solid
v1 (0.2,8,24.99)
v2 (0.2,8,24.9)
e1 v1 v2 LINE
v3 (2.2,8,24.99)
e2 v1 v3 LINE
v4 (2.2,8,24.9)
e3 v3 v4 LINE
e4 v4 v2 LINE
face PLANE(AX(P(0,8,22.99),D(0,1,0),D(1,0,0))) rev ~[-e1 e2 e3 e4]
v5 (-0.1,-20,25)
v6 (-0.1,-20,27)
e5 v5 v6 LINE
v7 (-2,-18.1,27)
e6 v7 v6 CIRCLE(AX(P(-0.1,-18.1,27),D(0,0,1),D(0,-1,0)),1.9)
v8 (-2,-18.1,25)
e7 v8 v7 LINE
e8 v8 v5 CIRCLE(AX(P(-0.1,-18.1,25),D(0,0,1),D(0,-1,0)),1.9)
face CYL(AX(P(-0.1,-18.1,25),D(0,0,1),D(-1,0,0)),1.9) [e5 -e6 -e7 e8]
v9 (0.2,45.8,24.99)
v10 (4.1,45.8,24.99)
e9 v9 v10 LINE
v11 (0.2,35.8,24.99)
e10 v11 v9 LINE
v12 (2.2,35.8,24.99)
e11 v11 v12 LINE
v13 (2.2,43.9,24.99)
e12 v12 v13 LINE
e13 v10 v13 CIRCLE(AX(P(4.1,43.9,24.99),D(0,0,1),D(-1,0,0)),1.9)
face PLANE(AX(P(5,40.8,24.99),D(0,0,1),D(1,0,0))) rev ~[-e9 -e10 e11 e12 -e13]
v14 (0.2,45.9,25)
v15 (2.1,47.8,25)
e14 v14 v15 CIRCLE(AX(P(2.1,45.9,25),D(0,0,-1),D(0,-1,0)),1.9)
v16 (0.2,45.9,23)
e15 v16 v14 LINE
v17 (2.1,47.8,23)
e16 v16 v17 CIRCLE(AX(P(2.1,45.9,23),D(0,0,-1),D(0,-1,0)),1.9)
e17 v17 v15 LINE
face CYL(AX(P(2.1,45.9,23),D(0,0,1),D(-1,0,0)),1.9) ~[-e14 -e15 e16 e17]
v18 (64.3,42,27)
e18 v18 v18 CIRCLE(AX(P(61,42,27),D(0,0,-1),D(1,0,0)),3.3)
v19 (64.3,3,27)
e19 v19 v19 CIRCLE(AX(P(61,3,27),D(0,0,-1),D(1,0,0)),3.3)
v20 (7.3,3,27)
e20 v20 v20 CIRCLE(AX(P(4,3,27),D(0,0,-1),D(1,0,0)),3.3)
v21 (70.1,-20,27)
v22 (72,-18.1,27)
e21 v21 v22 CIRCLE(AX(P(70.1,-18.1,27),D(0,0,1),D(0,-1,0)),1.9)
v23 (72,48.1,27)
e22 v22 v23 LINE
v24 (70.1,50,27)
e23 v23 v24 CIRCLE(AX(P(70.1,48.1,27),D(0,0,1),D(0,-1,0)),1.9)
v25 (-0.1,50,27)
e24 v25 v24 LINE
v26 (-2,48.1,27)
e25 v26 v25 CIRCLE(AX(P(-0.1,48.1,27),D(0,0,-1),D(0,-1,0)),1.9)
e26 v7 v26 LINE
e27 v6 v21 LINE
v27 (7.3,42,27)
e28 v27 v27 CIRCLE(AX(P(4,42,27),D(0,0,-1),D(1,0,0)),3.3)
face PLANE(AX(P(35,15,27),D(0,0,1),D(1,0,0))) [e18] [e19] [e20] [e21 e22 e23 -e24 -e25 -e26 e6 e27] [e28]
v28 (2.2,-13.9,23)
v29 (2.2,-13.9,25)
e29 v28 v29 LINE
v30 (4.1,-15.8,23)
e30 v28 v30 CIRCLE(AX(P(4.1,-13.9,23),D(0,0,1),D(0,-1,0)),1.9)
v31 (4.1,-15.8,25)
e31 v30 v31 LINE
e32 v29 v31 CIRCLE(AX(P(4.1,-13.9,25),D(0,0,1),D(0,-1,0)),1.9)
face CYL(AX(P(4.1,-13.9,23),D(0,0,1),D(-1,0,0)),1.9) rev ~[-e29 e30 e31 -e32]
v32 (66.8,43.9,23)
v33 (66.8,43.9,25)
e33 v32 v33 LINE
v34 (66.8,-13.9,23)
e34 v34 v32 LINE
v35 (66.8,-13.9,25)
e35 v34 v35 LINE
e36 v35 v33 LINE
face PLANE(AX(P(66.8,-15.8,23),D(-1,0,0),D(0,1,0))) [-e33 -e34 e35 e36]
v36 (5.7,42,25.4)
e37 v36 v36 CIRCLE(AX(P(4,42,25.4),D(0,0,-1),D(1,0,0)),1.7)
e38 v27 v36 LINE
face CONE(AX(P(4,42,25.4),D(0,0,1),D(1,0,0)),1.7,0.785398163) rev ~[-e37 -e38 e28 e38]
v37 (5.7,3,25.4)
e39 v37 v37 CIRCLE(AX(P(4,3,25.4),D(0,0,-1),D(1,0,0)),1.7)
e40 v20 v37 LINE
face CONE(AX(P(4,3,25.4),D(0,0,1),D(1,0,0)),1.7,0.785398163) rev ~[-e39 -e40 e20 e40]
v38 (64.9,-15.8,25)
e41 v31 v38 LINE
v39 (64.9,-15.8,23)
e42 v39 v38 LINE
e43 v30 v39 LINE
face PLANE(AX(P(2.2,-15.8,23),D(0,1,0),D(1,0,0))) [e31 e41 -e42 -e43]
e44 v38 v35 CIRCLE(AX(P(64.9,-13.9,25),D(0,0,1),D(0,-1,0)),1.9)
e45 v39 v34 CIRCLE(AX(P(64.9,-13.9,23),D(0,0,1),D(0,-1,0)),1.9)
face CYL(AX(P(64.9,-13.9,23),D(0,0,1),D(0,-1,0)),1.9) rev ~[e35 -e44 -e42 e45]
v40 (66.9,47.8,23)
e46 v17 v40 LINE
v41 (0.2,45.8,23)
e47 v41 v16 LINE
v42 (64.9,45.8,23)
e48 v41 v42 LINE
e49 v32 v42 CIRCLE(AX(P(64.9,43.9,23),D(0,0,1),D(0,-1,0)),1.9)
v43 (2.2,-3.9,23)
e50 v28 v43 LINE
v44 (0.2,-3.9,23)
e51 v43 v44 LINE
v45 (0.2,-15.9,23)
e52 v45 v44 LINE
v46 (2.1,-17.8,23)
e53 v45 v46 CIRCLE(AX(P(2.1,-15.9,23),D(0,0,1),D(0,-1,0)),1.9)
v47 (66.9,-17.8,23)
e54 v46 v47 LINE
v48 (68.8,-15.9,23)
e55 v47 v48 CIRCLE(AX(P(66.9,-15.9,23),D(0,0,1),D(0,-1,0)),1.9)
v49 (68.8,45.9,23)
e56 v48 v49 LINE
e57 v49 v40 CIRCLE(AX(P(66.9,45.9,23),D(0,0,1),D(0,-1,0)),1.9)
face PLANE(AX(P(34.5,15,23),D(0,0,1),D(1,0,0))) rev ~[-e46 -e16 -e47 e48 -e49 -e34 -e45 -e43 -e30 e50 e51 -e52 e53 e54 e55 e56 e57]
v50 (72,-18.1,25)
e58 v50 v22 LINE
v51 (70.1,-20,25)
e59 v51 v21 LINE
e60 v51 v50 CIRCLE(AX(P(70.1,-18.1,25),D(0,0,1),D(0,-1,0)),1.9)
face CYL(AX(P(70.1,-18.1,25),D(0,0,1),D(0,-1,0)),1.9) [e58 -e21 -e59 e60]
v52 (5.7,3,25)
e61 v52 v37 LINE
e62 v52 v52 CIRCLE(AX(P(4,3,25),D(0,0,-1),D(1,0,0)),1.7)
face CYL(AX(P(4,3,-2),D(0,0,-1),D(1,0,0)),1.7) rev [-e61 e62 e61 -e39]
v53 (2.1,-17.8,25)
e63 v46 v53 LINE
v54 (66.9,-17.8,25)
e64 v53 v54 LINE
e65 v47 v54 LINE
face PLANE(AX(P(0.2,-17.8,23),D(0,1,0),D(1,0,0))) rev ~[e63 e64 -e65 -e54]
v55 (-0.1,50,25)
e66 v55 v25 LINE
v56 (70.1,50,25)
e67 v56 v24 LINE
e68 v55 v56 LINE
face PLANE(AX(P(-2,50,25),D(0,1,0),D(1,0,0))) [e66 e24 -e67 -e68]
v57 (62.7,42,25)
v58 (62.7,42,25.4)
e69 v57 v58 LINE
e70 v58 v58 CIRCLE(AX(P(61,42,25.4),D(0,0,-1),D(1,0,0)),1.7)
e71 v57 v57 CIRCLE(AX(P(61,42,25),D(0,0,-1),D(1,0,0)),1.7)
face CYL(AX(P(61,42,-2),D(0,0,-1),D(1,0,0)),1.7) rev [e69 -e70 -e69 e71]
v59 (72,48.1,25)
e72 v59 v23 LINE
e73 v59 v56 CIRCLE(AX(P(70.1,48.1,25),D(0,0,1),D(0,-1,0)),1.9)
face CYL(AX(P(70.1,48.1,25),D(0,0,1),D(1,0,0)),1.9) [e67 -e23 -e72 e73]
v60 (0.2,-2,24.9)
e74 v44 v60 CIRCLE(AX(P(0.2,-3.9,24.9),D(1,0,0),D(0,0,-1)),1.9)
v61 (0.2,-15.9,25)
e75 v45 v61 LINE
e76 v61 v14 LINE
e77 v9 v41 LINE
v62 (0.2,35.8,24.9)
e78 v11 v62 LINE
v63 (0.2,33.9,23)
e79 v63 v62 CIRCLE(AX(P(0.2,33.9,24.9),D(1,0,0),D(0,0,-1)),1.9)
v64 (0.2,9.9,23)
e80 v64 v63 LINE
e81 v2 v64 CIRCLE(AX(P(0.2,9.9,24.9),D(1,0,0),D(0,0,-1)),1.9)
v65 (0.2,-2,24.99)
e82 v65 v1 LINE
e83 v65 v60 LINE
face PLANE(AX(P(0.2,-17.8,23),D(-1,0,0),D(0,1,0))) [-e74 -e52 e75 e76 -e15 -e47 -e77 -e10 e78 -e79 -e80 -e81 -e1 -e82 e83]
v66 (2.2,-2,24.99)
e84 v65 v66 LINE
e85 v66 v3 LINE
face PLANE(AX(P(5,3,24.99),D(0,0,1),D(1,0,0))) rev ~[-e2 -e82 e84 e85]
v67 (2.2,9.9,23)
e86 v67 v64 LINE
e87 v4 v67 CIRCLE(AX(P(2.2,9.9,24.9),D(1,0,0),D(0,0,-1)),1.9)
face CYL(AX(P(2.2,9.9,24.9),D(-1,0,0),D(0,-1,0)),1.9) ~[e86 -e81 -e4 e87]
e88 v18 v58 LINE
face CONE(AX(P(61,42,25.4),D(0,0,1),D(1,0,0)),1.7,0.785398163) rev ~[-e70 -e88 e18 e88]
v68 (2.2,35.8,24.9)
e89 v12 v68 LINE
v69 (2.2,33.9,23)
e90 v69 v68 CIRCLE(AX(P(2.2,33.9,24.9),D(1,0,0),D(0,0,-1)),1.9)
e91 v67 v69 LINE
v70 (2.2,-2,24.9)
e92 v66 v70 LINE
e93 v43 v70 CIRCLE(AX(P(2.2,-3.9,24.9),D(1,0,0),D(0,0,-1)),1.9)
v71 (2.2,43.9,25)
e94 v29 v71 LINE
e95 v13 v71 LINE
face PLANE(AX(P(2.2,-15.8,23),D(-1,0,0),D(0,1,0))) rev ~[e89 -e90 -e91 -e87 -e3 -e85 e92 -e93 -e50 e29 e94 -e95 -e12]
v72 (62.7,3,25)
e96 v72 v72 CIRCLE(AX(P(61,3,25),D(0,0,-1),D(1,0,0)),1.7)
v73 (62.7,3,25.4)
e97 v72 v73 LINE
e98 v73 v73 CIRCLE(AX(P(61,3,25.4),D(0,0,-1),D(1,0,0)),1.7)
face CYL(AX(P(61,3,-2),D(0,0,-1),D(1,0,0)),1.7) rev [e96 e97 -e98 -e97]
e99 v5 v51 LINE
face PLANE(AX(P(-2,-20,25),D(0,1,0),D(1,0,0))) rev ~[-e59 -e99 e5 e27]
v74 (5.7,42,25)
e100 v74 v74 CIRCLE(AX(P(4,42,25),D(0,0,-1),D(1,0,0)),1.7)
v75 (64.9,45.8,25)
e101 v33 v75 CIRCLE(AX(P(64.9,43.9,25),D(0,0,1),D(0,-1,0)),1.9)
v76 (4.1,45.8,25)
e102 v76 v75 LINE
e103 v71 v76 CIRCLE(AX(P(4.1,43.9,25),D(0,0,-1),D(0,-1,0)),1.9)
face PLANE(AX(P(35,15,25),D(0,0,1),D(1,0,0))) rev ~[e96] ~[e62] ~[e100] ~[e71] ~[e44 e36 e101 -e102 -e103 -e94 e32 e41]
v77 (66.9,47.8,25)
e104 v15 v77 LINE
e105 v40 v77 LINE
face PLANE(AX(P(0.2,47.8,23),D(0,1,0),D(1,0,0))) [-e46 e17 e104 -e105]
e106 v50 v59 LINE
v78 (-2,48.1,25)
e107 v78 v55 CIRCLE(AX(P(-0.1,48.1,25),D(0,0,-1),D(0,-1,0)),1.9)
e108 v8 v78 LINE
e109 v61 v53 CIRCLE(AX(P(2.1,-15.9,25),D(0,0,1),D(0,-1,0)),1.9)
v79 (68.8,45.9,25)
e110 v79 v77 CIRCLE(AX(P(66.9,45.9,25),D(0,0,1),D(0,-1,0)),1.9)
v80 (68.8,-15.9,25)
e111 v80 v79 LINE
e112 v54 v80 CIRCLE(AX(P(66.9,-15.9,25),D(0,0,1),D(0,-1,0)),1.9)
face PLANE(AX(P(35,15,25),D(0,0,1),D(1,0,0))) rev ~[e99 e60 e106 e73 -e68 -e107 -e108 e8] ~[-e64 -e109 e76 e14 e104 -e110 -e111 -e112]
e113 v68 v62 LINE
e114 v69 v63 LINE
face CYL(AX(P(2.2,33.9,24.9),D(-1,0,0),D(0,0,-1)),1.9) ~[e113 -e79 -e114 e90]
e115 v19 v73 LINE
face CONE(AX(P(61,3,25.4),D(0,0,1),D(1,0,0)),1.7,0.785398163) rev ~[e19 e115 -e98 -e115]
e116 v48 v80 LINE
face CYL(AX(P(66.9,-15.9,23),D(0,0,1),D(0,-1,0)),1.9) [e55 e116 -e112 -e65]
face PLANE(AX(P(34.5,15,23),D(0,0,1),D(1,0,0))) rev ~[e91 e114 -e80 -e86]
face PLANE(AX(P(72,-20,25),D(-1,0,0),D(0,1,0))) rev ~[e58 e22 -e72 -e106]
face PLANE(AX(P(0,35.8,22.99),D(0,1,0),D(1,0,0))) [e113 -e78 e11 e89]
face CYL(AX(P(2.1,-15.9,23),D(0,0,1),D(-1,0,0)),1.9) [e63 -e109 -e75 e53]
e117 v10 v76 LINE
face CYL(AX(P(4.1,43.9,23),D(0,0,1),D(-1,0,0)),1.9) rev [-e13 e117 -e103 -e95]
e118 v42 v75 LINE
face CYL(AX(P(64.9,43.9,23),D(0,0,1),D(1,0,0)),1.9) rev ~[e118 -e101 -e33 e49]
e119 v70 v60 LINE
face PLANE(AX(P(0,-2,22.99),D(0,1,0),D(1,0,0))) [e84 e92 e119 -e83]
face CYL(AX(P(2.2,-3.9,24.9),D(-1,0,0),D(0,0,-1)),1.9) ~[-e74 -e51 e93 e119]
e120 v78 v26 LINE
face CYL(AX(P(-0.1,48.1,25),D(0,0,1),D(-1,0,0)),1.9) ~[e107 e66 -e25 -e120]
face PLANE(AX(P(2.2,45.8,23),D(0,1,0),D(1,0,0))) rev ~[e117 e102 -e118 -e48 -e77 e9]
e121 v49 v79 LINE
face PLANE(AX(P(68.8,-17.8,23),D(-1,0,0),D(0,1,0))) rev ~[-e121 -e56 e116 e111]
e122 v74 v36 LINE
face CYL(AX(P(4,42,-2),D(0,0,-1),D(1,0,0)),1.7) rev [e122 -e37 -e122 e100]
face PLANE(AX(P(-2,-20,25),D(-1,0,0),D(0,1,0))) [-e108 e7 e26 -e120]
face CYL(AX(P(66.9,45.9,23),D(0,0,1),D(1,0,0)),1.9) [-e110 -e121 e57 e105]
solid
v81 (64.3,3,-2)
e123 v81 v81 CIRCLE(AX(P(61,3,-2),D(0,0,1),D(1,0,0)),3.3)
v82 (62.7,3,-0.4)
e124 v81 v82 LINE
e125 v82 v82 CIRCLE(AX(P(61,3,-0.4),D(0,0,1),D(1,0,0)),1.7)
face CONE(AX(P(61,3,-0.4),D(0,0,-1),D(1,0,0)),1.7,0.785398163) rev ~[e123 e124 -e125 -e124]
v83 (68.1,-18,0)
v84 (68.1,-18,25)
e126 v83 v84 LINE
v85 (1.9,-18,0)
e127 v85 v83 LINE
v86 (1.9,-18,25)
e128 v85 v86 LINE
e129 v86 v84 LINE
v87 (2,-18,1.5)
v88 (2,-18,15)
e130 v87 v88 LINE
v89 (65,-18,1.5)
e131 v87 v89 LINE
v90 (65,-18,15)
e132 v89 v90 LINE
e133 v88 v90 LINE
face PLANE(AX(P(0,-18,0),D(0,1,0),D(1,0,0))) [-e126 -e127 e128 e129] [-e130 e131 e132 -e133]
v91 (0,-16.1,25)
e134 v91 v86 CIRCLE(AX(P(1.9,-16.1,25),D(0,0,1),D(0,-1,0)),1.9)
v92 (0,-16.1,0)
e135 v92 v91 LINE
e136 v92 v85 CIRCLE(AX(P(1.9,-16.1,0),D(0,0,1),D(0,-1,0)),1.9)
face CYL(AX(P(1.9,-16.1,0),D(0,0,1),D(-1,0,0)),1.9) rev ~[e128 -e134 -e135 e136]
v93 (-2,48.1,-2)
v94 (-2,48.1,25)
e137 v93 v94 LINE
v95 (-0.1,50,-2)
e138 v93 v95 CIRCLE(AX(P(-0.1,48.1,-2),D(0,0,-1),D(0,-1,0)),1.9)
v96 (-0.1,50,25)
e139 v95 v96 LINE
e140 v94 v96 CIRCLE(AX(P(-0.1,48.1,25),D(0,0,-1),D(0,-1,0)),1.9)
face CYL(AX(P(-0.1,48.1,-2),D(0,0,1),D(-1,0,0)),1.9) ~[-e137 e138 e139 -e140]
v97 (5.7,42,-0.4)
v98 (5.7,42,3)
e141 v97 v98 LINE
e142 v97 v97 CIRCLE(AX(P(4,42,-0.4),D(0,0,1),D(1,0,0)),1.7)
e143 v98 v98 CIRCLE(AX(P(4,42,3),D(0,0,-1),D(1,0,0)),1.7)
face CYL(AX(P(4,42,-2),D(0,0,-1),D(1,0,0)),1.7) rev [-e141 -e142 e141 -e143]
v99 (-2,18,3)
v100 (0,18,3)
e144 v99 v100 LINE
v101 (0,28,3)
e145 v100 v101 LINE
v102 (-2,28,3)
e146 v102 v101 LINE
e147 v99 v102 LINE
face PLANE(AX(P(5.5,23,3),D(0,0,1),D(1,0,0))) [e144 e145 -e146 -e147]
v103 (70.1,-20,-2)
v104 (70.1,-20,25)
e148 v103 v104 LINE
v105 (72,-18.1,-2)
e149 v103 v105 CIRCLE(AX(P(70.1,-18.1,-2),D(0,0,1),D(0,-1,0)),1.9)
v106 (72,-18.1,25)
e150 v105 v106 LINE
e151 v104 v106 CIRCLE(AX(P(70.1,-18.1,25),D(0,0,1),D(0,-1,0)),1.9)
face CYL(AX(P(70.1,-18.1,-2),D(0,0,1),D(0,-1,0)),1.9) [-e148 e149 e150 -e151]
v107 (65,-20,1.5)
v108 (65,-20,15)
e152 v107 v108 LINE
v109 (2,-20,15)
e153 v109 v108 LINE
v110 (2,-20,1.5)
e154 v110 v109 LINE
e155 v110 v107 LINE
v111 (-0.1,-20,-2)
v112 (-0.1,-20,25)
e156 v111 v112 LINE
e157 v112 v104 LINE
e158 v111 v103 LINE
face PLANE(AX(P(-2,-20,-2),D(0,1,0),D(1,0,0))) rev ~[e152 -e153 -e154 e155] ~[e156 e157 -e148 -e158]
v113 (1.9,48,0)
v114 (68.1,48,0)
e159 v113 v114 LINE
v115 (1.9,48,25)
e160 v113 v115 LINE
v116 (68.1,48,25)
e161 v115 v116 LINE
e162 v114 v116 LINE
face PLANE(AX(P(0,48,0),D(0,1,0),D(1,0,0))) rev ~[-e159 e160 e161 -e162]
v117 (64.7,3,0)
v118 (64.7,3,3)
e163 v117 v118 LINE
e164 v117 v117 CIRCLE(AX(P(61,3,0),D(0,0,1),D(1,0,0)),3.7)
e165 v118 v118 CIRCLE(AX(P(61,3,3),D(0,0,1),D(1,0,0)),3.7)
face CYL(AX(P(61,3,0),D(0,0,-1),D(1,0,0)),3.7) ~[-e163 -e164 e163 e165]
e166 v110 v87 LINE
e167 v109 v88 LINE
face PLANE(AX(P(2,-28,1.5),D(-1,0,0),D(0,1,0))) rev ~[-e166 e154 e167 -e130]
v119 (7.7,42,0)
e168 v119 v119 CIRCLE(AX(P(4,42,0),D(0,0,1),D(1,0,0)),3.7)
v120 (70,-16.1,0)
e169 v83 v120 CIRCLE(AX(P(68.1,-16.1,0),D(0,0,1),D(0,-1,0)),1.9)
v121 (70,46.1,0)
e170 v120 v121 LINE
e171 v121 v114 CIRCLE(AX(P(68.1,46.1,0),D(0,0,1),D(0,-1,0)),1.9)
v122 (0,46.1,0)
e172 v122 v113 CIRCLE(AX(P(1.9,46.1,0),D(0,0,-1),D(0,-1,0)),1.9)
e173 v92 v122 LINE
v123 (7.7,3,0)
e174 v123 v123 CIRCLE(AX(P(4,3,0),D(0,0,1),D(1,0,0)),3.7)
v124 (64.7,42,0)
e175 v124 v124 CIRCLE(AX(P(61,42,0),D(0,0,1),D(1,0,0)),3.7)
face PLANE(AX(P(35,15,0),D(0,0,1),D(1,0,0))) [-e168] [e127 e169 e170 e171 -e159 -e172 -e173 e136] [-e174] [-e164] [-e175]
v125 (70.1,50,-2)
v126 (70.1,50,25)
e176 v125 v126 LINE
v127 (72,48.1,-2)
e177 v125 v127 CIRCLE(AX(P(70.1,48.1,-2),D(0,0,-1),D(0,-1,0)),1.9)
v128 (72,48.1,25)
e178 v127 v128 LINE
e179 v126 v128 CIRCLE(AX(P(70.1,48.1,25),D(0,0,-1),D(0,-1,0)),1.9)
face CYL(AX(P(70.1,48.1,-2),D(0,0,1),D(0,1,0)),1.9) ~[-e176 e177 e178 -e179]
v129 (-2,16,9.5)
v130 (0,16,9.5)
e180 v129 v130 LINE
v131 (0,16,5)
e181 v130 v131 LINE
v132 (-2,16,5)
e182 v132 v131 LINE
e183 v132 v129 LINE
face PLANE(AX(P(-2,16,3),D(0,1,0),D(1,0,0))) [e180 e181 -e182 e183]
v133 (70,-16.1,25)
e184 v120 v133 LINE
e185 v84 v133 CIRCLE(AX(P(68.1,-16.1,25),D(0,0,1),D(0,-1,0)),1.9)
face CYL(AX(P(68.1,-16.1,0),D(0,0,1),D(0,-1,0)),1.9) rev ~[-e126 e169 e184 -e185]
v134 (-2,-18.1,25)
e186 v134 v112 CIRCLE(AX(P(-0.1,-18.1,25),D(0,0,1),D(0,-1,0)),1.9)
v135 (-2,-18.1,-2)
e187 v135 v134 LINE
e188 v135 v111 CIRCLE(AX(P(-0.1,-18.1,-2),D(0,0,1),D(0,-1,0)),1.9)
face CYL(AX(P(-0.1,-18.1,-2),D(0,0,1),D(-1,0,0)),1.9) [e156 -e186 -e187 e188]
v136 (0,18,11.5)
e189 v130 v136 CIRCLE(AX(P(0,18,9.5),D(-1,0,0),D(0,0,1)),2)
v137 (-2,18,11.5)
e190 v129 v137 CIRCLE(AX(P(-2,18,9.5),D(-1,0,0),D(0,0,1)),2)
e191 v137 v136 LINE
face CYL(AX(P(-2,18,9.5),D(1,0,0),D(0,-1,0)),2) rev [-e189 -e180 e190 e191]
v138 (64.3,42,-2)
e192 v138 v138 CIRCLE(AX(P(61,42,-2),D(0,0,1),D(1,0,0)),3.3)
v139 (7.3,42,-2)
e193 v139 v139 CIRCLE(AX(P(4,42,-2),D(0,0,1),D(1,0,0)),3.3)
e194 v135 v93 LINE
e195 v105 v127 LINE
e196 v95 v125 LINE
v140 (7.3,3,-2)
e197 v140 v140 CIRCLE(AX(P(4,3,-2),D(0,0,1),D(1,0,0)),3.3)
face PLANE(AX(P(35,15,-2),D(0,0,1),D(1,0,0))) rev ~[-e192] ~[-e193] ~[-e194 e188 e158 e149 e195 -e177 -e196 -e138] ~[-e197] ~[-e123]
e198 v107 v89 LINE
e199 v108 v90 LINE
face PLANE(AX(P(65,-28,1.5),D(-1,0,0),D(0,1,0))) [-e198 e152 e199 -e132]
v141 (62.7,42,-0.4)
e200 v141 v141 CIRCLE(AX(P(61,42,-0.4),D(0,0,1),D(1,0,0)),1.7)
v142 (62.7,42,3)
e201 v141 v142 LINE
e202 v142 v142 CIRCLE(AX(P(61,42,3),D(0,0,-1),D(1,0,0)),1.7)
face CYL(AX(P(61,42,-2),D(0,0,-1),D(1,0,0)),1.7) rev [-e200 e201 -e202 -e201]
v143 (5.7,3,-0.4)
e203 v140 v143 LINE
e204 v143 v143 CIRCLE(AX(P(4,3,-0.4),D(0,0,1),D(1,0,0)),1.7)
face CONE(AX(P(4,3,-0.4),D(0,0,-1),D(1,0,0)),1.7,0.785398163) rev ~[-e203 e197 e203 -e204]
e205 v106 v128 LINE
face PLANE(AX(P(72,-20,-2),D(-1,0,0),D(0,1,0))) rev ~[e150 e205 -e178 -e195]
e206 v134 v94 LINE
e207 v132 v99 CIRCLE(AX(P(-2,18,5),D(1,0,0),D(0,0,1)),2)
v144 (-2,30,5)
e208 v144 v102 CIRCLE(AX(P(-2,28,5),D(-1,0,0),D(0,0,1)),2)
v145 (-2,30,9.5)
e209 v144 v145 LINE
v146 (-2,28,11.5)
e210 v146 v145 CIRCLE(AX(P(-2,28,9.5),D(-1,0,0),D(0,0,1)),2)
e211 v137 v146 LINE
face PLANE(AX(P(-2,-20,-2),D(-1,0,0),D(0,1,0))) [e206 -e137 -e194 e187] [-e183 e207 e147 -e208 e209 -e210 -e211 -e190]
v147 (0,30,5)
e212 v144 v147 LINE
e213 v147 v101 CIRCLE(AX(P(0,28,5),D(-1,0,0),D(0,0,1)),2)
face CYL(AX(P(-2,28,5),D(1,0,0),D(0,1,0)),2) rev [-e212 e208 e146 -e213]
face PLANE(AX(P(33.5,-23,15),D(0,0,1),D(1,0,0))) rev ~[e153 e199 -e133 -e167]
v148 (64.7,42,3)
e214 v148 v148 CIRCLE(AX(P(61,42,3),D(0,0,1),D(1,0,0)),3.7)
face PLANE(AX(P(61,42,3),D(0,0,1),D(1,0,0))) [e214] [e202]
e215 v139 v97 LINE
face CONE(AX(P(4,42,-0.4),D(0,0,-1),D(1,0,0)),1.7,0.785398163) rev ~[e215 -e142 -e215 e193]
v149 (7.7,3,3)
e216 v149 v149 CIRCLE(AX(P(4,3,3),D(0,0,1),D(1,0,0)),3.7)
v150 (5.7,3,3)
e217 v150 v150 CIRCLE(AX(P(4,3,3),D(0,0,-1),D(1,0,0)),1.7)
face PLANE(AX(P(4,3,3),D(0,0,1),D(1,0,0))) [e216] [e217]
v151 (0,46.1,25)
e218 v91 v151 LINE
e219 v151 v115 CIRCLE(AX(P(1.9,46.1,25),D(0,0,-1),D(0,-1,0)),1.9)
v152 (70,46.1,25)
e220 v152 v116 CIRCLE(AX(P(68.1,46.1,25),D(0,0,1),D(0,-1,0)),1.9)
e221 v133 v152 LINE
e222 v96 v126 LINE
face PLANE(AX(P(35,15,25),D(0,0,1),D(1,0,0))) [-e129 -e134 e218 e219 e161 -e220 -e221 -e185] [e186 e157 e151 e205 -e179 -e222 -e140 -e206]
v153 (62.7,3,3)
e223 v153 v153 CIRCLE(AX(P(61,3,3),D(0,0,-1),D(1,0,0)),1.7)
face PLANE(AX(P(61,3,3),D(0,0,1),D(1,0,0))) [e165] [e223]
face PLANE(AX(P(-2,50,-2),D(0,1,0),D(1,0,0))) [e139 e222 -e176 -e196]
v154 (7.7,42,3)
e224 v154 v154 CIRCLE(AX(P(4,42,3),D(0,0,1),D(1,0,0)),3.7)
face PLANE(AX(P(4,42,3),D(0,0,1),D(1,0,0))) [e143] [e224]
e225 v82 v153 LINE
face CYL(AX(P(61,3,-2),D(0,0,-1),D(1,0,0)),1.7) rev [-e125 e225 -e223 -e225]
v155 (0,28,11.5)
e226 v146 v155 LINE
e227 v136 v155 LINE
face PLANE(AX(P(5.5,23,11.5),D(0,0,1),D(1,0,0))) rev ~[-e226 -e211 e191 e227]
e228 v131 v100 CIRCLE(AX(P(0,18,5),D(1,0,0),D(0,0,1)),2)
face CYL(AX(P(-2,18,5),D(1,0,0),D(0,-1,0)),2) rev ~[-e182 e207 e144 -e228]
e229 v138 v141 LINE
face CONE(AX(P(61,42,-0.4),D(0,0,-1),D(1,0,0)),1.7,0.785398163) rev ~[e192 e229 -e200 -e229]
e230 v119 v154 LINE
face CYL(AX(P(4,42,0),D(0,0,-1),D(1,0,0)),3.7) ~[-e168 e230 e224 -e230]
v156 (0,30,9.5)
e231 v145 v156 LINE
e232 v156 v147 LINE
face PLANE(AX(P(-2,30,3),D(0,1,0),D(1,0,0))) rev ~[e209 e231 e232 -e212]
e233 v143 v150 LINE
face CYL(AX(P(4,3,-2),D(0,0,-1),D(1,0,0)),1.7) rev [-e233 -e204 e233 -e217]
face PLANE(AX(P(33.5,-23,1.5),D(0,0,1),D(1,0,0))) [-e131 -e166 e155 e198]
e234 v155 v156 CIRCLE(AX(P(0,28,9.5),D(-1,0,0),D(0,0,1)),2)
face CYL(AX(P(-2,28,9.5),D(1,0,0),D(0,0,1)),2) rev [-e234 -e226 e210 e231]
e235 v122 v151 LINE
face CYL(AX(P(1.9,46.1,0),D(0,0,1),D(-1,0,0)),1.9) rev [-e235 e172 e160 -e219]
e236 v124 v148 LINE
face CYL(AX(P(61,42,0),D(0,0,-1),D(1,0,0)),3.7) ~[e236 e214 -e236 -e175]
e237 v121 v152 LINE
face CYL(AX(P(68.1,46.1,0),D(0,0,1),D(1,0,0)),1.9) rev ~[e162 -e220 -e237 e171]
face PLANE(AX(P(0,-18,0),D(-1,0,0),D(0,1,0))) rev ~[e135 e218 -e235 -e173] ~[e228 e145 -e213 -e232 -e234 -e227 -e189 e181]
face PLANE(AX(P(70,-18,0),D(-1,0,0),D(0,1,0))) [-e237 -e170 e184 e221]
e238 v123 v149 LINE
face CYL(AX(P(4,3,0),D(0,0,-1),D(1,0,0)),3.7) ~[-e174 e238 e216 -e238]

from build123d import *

# Parameters (mm, degrees)
BOX003_W          = 63
BOX003_H          = 10
BOX003_DEPTH      = 13.5
BOX002_W          = 15
BOX002_H          = 14
BOX002_DEPTH      = 8.5
CYLINDER003_R     = 1.7
CYLINDER003_DEPTH = 35
CYLINDER002_R     = 1.7
CYLINDER002_DEPTH = 33
CYLINDER001_R     = 1.7
CYLINDER001_DEPTH = 35
CYLINDER_R        = 1.7
CYLINDER_DEPTH    = 35
CYLINDER007_R     = 3.7
CYLINDER007_DEPTH = 3
CYLINDER006_R     = 3.7
CYLINDER006_DEPTH = 3
CYLINDER005_R     = 3.7
CYLINDER005_DEPTH = 3
CYLINDER004_R     = 3.7
CYLINDER004_DEPTH = 3
BOX_W             = 70
BOX_H             = 66
BOX_DEPTH         = 25
BOX001_W          = 74
BOX001_H          = 70
BOX001_DEPTH      = 27
FILLET_R          = 2
FILLET001_R       = 1.9
CHAMFER001_SIZE   = 1.6
BOX008_W          = 10
BOX008_H          = 10
BOX008_DEPTH      = 2
BOX007_W          = 10
BOX007_H          = 10
BOX007_DEPTH      = 2
BOX006_W          = 64.6
BOX006_H          = 61.6
BOX006_DEPTH      = 2
FILLET004_R       = 1.9
BOX005_W          = 68.6
BOX005_H          = 65.6
BOX005_DEPTH      = 2
FILLET003_R       = 1.9
BOX004_W          = 74
BOX004_H          = 70
BOX004_DEPTH      = 2
FILLET002_R       = 1.9
CHAMFER_SIZE      = 1.6
FILLET005_R       = 1.9


with BuildPart() as w_rfel003:
    # Box003 → Box003 (new body)
    with BuildSketch(Plane(origin=(2, -28, 1.5), x_dir=(1, 0, 0), z_dir=(0, 0, 1))):
        with Locations((31.5, 5)):
            Rectangle(BOX003_W, BOX003_H)
    extrude(amount=BOX003_DEPTH)


with BuildPart() as w_rfel002:
    # Box002 → Box002 (new body)
    with BuildSketch(Plane(origin=(-2, 16, 3), x_dir=(1, 0, 0), z_dir=(0, 0, 1))):
        with Locations((7.5, 7)):
            Rectangle(BOX002_W, BOX002_H)
    extrude(amount=BOX002_DEPTH)


with BuildPart() as zylinder003:
    # Cylinder003 → Cylinder003 (new body)
    with BuildSketch(Plane(origin=(4, 42, -2), x_dir=(1, 0, 0), z_dir=(0, 0, 1))):
        Circle(CYLINDER003_R)
    extrude(amount=CYLINDER003_DEPTH)


with BuildPart() as zylinder002:
    # Cylinder002 → Cylinder002 (new body)
    with BuildSketch(Plane(origin=(61, 42, -2), x_dir=(1, 0, 0), z_dir=(0, 0, 1))):
        Circle(CYLINDER002_R)
    extrude(amount=CYLINDER002_DEPTH)


with BuildPart() as zylinder001:
    # Cylinder001 → Cylinder001 (new body)
    with BuildSketch(Plane(origin=(61, 3, -2), x_dir=(1, 0, 0), z_dir=(0, 0, 1))):
        Circle(CYLINDER001_R)
    extrude(amount=CYLINDER001_DEPTH)


with BuildPart() as zylinder:
    # Cylinder → Cylinder (new body)
    with BuildSketch(Plane(origin=(4, 3, -2), x_dir=(1, 0, 0), z_dir=(0, 0, 1))):
        Circle(CYLINDER_R)
    extrude(amount=CYLINDER_DEPTH)


with BuildPart() as zylinder007:
    # Cylinder007 → Cylinder007 (new body)
    with BuildSketch(Plane(origin=(4, 42, 0), x_dir=(1, 0, 0), z_dir=(0, 0, 1))):
        Circle(CYLINDER007_R)
    extrude(amount=CYLINDER007_DEPTH)


with BuildPart() as zylinder006:
    # Cylinder006 → Cylinder006 (new body)
    with BuildSketch(Plane(origin=(61, 3, 0), x_dir=(1, 0, 0), z_dir=(0, 0, 1))):
        Circle(CYLINDER006_R)
    extrude(amount=CYLINDER006_DEPTH)


with BuildPart() as zylinder005:
    # Cylinder005 → Cylinder005 (new body)
    with BuildSketch(Plane(origin=(61, 42, 0), x_dir=(1, 0, 0), z_dir=(0, 0, 1))):
        Circle(CYLINDER005_R)
    extrude(amount=CYLINDER005_DEPTH)


with BuildPart() as zylinder004:
    # Cylinder004 → Cylinder004 (new body)
    with BuildSketch(Plane(origin=(4, 3, 0), x_dir=(1, 0, 0), z_dir=(0, 0, 1))):
        Circle(CYLINDER004_R)
    extrude(amount=CYLINDER004_DEPTH)


with BuildPart() as w_rfel:
    # Box → Box (new body)
    with BuildSketch(Plane(origin=(0, -18, 0), x_dir=(1, 0, 0), z_dir=(0, 0, 1))):
        with Locations((35, 33)):
            Rectangle(BOX_W, BOX_H)
    extrude(amount=BOX_DEPTH)


with BuildPart() as housing:
    # Box001 → Box001 (new body)
    with BuildSketch(Plane(origin=(-2, -20, -2), x_dir=(1, 0, 0), z_dir=(0, 0, 1))):
        with Locations((37, 35)):
            Rectangle(BOX001_W, BOX001_H)
    extrude(amount=BOX001_DEPTH)

    # Cut: cut Würfel
    add(w_rfel.part, mode=Mode.SUBTRACT)

    # Fusion: union Zylinder004
    add(zylinder004.part)

    # Fusion001: union Zylinder005
    add(zylinder005.part)

    # Fusion002: union Zylinder006
    add(zylinder006.part)

    # Fusion003: union Zylinder007
    add(zylinder007.part)

    # Cut001: cut Zylinder
    add(zylinder.part, mode=Mode.SUBTRACT)

    # Cut002: cut Zylinder001
    add(zylinder001.part, mode=Mode.SUBTRACT)

    # Cut003: cut Zylinder002
    add(zylinder002.part, mode=Mode.SUBTRACT)

    # Cut004: cut Zylinder003
    add(zylinder003.part, mode=Mode.SUBTRACT)

    # Cut005: cut Würfel002
    add(w_rfel002.part, mode=Mode.SUBTRACT)

    # Cut006: cut Würfel003
    add(w_rfel003.part, mode=Mode.SUBTRACT)

    # Fillet
    fillet_edges = [housing.edges().sort_by_distance(p)[0] for p in [
        (-1, 16, 3),
        (-1, 16, 11.5),
        (-1, 30, 3),
        (-1, 30, 11.5),
    ]]
    fillet(fillet_edges, radius=FILLET_R)

    # Fillet001
    fillet001_edges = [housing.edges().sort_by_distance(p)[0] for p in [
        (-2, -20, 11.5),
        (-2, 50, 11.5),
        (72, -20, 11.5),
        (72, 50, 11.5),
        (0, -18, 12.5),
        (0, 48, 12.5),
        (70, -18, 12.5),
        (70, 48, 12.5),
    ]]
    fillet(fillet001_edges, radius=FILLET001_R)

    # Chamfer001
    chamfer001_edges = [housing.edges().sort_by_distance(p)[0] for p in [
        (2.3, 3, -2),
        (59.3, 3, -2),
        (2.3, 42, -2),
        (59.3, 42, -2),
    ]]
    chamfer(chamfer001_edges, length=CHAMFER001_SIZE)


with BuildPart() as w_rfel008:
    # Box008 → Box008 (new body)
    with BuildSketch(Plane(origin=(0, 35.8, 22.99), x_dir=(1, 0, 0), z_dir=(0, 0, 1))):
        with Locations((5, 5)):
            Rectangle(BOX008_W, BOX008_H)
    extrude(amount=BOX008_DEPTH)


with BuildPart() as w_rfel007:
    # Box007 → Box007 (new body)
    with BuildSketch(Plane(origin=(0, -2, 22.99), x_dir=(1, 0, 0), z_dir=(0, 0, 1))):
        with Locations((5, 5)):
            Rectangle(BOX007_W, BOX007_H)
    extrude(amount=BOX007_DEPTH)


with BuildPart() as fillet004:
    # Box006 → Box006 (new body)
    with BuildSketch(Plane(origin=(2.2, -15.8, 23), x_dir=(1, 0, 0), z_dir=(0, 0, 1))):
        with Locations((32.3, 30.8)):
            Rectangle(BOX006_W, BOX006_H)
    extrude(amount=BOX006_DEPTH)

    # Fillet004
    fillet004_edges = [fillet004.edges().sort_by_distance(p)[0] for p in [
        (2.2, -15.8, 24),
        (2.2, 45.8, 24),
        (66.8, -15.8, 24),
        (66.8, 45.8, 24),
    ]]
    fillet(fillet004_edges, radius=FILLET004_R)


with BuildPart() as cut007:
    # Box005 → Box005 (new body)
    with BuildSketch(Plane(origin=(0.2, -17.8, 23), x_dir=(1, 0, 0), z_dir=(0, 0, 1))):
        with Locations((34.3, 32.8)):
            Rectangle(BOX005_W, BOX005_H)
    extrude(amount=BOX005_DEPTH)

    # Fillet003
    fillet003_edges = [cut007.edges().sort_by_distance(p)[0] for p in [
        (0.2, -17.8, 24),
        (0.2, 47.8, 24),
        (68.8, -17.8, 24),
        (68.8, 47.8, 24),
    ]]
    fillet(fillet003_edges, radius=FILLET003_R)

    # Cut007: cut Fillet004
    add(fillet004.part, mode=Mode.SUBTRACT)


with BuildPart() as cap:
    # Box004 → Box004 (new body)
    with BuildSketch(Plane(origin=(-2, -20, 25), x_dir=(1, 0, 0), z_dir=(0, 0, 1))):
        with Locations((37, 35)):
            Rectangle(BOX004_W, BOX004_H)
    extrude(amount=BOX004_DEPTH)

    # Fillet002
    fillet002_edges = [cap.edges().sort_by_distance(p)[0] for p in [
        (-2, -20, 26),
        (-2, 50, 26),
        (72, -20, 26),
        (72, 50, 26),
    ]]
    fillet(fillet002_edges, radius=FILLET002_R)

    # Fusion004: union Cut007
    add(cut007.part)

    # Cut008: cut Zylinder
    add(zylinder.part, mode=Mode.SUBTRACT)

    # Cut009: cut Zylinder001
    add(zylinder001.part, mode=Mode.SUBTRACT)

    # Cut010: cut Zylinder002
    add(zylinder002.part, mode=Mode.SUBTRACT)

    # Cut011: cut Zylinder003
    add(zylinder003.part, mode=Mode.SUBTRACT)

    # Chamfer
    chamfer_edges = [cap.edges().sort_by_distance(p)[0] for p in [
        (2.3, 3, 27),
        (59.3, 3, 27),
        (2.3, 42, 27),
        (59.3, 42, 27),
    ]]
    chamfer(chamfer_edges, length=CHAMFER_SIZE)

    # Cut012: cut Würfel007
    add(w_rfel007.part, mode=Mode.SUBTRACT)

    # Cut013: cut Würfel008
    add(w_rfel008.part, mode=Mode.SUBTRACT)

    # Fillet005
    fillet005_edges = [cap.edges().sort_by_distance(p)[0] for p in [
        (1.2, -2, 23),
        (1.2, 35.8, 23),
        (1.2, 8, 23),
    ]]
    fillet(fillet005_edges, radius=FILLET005_R)


solid = Compound([housing.part, cap.part])
